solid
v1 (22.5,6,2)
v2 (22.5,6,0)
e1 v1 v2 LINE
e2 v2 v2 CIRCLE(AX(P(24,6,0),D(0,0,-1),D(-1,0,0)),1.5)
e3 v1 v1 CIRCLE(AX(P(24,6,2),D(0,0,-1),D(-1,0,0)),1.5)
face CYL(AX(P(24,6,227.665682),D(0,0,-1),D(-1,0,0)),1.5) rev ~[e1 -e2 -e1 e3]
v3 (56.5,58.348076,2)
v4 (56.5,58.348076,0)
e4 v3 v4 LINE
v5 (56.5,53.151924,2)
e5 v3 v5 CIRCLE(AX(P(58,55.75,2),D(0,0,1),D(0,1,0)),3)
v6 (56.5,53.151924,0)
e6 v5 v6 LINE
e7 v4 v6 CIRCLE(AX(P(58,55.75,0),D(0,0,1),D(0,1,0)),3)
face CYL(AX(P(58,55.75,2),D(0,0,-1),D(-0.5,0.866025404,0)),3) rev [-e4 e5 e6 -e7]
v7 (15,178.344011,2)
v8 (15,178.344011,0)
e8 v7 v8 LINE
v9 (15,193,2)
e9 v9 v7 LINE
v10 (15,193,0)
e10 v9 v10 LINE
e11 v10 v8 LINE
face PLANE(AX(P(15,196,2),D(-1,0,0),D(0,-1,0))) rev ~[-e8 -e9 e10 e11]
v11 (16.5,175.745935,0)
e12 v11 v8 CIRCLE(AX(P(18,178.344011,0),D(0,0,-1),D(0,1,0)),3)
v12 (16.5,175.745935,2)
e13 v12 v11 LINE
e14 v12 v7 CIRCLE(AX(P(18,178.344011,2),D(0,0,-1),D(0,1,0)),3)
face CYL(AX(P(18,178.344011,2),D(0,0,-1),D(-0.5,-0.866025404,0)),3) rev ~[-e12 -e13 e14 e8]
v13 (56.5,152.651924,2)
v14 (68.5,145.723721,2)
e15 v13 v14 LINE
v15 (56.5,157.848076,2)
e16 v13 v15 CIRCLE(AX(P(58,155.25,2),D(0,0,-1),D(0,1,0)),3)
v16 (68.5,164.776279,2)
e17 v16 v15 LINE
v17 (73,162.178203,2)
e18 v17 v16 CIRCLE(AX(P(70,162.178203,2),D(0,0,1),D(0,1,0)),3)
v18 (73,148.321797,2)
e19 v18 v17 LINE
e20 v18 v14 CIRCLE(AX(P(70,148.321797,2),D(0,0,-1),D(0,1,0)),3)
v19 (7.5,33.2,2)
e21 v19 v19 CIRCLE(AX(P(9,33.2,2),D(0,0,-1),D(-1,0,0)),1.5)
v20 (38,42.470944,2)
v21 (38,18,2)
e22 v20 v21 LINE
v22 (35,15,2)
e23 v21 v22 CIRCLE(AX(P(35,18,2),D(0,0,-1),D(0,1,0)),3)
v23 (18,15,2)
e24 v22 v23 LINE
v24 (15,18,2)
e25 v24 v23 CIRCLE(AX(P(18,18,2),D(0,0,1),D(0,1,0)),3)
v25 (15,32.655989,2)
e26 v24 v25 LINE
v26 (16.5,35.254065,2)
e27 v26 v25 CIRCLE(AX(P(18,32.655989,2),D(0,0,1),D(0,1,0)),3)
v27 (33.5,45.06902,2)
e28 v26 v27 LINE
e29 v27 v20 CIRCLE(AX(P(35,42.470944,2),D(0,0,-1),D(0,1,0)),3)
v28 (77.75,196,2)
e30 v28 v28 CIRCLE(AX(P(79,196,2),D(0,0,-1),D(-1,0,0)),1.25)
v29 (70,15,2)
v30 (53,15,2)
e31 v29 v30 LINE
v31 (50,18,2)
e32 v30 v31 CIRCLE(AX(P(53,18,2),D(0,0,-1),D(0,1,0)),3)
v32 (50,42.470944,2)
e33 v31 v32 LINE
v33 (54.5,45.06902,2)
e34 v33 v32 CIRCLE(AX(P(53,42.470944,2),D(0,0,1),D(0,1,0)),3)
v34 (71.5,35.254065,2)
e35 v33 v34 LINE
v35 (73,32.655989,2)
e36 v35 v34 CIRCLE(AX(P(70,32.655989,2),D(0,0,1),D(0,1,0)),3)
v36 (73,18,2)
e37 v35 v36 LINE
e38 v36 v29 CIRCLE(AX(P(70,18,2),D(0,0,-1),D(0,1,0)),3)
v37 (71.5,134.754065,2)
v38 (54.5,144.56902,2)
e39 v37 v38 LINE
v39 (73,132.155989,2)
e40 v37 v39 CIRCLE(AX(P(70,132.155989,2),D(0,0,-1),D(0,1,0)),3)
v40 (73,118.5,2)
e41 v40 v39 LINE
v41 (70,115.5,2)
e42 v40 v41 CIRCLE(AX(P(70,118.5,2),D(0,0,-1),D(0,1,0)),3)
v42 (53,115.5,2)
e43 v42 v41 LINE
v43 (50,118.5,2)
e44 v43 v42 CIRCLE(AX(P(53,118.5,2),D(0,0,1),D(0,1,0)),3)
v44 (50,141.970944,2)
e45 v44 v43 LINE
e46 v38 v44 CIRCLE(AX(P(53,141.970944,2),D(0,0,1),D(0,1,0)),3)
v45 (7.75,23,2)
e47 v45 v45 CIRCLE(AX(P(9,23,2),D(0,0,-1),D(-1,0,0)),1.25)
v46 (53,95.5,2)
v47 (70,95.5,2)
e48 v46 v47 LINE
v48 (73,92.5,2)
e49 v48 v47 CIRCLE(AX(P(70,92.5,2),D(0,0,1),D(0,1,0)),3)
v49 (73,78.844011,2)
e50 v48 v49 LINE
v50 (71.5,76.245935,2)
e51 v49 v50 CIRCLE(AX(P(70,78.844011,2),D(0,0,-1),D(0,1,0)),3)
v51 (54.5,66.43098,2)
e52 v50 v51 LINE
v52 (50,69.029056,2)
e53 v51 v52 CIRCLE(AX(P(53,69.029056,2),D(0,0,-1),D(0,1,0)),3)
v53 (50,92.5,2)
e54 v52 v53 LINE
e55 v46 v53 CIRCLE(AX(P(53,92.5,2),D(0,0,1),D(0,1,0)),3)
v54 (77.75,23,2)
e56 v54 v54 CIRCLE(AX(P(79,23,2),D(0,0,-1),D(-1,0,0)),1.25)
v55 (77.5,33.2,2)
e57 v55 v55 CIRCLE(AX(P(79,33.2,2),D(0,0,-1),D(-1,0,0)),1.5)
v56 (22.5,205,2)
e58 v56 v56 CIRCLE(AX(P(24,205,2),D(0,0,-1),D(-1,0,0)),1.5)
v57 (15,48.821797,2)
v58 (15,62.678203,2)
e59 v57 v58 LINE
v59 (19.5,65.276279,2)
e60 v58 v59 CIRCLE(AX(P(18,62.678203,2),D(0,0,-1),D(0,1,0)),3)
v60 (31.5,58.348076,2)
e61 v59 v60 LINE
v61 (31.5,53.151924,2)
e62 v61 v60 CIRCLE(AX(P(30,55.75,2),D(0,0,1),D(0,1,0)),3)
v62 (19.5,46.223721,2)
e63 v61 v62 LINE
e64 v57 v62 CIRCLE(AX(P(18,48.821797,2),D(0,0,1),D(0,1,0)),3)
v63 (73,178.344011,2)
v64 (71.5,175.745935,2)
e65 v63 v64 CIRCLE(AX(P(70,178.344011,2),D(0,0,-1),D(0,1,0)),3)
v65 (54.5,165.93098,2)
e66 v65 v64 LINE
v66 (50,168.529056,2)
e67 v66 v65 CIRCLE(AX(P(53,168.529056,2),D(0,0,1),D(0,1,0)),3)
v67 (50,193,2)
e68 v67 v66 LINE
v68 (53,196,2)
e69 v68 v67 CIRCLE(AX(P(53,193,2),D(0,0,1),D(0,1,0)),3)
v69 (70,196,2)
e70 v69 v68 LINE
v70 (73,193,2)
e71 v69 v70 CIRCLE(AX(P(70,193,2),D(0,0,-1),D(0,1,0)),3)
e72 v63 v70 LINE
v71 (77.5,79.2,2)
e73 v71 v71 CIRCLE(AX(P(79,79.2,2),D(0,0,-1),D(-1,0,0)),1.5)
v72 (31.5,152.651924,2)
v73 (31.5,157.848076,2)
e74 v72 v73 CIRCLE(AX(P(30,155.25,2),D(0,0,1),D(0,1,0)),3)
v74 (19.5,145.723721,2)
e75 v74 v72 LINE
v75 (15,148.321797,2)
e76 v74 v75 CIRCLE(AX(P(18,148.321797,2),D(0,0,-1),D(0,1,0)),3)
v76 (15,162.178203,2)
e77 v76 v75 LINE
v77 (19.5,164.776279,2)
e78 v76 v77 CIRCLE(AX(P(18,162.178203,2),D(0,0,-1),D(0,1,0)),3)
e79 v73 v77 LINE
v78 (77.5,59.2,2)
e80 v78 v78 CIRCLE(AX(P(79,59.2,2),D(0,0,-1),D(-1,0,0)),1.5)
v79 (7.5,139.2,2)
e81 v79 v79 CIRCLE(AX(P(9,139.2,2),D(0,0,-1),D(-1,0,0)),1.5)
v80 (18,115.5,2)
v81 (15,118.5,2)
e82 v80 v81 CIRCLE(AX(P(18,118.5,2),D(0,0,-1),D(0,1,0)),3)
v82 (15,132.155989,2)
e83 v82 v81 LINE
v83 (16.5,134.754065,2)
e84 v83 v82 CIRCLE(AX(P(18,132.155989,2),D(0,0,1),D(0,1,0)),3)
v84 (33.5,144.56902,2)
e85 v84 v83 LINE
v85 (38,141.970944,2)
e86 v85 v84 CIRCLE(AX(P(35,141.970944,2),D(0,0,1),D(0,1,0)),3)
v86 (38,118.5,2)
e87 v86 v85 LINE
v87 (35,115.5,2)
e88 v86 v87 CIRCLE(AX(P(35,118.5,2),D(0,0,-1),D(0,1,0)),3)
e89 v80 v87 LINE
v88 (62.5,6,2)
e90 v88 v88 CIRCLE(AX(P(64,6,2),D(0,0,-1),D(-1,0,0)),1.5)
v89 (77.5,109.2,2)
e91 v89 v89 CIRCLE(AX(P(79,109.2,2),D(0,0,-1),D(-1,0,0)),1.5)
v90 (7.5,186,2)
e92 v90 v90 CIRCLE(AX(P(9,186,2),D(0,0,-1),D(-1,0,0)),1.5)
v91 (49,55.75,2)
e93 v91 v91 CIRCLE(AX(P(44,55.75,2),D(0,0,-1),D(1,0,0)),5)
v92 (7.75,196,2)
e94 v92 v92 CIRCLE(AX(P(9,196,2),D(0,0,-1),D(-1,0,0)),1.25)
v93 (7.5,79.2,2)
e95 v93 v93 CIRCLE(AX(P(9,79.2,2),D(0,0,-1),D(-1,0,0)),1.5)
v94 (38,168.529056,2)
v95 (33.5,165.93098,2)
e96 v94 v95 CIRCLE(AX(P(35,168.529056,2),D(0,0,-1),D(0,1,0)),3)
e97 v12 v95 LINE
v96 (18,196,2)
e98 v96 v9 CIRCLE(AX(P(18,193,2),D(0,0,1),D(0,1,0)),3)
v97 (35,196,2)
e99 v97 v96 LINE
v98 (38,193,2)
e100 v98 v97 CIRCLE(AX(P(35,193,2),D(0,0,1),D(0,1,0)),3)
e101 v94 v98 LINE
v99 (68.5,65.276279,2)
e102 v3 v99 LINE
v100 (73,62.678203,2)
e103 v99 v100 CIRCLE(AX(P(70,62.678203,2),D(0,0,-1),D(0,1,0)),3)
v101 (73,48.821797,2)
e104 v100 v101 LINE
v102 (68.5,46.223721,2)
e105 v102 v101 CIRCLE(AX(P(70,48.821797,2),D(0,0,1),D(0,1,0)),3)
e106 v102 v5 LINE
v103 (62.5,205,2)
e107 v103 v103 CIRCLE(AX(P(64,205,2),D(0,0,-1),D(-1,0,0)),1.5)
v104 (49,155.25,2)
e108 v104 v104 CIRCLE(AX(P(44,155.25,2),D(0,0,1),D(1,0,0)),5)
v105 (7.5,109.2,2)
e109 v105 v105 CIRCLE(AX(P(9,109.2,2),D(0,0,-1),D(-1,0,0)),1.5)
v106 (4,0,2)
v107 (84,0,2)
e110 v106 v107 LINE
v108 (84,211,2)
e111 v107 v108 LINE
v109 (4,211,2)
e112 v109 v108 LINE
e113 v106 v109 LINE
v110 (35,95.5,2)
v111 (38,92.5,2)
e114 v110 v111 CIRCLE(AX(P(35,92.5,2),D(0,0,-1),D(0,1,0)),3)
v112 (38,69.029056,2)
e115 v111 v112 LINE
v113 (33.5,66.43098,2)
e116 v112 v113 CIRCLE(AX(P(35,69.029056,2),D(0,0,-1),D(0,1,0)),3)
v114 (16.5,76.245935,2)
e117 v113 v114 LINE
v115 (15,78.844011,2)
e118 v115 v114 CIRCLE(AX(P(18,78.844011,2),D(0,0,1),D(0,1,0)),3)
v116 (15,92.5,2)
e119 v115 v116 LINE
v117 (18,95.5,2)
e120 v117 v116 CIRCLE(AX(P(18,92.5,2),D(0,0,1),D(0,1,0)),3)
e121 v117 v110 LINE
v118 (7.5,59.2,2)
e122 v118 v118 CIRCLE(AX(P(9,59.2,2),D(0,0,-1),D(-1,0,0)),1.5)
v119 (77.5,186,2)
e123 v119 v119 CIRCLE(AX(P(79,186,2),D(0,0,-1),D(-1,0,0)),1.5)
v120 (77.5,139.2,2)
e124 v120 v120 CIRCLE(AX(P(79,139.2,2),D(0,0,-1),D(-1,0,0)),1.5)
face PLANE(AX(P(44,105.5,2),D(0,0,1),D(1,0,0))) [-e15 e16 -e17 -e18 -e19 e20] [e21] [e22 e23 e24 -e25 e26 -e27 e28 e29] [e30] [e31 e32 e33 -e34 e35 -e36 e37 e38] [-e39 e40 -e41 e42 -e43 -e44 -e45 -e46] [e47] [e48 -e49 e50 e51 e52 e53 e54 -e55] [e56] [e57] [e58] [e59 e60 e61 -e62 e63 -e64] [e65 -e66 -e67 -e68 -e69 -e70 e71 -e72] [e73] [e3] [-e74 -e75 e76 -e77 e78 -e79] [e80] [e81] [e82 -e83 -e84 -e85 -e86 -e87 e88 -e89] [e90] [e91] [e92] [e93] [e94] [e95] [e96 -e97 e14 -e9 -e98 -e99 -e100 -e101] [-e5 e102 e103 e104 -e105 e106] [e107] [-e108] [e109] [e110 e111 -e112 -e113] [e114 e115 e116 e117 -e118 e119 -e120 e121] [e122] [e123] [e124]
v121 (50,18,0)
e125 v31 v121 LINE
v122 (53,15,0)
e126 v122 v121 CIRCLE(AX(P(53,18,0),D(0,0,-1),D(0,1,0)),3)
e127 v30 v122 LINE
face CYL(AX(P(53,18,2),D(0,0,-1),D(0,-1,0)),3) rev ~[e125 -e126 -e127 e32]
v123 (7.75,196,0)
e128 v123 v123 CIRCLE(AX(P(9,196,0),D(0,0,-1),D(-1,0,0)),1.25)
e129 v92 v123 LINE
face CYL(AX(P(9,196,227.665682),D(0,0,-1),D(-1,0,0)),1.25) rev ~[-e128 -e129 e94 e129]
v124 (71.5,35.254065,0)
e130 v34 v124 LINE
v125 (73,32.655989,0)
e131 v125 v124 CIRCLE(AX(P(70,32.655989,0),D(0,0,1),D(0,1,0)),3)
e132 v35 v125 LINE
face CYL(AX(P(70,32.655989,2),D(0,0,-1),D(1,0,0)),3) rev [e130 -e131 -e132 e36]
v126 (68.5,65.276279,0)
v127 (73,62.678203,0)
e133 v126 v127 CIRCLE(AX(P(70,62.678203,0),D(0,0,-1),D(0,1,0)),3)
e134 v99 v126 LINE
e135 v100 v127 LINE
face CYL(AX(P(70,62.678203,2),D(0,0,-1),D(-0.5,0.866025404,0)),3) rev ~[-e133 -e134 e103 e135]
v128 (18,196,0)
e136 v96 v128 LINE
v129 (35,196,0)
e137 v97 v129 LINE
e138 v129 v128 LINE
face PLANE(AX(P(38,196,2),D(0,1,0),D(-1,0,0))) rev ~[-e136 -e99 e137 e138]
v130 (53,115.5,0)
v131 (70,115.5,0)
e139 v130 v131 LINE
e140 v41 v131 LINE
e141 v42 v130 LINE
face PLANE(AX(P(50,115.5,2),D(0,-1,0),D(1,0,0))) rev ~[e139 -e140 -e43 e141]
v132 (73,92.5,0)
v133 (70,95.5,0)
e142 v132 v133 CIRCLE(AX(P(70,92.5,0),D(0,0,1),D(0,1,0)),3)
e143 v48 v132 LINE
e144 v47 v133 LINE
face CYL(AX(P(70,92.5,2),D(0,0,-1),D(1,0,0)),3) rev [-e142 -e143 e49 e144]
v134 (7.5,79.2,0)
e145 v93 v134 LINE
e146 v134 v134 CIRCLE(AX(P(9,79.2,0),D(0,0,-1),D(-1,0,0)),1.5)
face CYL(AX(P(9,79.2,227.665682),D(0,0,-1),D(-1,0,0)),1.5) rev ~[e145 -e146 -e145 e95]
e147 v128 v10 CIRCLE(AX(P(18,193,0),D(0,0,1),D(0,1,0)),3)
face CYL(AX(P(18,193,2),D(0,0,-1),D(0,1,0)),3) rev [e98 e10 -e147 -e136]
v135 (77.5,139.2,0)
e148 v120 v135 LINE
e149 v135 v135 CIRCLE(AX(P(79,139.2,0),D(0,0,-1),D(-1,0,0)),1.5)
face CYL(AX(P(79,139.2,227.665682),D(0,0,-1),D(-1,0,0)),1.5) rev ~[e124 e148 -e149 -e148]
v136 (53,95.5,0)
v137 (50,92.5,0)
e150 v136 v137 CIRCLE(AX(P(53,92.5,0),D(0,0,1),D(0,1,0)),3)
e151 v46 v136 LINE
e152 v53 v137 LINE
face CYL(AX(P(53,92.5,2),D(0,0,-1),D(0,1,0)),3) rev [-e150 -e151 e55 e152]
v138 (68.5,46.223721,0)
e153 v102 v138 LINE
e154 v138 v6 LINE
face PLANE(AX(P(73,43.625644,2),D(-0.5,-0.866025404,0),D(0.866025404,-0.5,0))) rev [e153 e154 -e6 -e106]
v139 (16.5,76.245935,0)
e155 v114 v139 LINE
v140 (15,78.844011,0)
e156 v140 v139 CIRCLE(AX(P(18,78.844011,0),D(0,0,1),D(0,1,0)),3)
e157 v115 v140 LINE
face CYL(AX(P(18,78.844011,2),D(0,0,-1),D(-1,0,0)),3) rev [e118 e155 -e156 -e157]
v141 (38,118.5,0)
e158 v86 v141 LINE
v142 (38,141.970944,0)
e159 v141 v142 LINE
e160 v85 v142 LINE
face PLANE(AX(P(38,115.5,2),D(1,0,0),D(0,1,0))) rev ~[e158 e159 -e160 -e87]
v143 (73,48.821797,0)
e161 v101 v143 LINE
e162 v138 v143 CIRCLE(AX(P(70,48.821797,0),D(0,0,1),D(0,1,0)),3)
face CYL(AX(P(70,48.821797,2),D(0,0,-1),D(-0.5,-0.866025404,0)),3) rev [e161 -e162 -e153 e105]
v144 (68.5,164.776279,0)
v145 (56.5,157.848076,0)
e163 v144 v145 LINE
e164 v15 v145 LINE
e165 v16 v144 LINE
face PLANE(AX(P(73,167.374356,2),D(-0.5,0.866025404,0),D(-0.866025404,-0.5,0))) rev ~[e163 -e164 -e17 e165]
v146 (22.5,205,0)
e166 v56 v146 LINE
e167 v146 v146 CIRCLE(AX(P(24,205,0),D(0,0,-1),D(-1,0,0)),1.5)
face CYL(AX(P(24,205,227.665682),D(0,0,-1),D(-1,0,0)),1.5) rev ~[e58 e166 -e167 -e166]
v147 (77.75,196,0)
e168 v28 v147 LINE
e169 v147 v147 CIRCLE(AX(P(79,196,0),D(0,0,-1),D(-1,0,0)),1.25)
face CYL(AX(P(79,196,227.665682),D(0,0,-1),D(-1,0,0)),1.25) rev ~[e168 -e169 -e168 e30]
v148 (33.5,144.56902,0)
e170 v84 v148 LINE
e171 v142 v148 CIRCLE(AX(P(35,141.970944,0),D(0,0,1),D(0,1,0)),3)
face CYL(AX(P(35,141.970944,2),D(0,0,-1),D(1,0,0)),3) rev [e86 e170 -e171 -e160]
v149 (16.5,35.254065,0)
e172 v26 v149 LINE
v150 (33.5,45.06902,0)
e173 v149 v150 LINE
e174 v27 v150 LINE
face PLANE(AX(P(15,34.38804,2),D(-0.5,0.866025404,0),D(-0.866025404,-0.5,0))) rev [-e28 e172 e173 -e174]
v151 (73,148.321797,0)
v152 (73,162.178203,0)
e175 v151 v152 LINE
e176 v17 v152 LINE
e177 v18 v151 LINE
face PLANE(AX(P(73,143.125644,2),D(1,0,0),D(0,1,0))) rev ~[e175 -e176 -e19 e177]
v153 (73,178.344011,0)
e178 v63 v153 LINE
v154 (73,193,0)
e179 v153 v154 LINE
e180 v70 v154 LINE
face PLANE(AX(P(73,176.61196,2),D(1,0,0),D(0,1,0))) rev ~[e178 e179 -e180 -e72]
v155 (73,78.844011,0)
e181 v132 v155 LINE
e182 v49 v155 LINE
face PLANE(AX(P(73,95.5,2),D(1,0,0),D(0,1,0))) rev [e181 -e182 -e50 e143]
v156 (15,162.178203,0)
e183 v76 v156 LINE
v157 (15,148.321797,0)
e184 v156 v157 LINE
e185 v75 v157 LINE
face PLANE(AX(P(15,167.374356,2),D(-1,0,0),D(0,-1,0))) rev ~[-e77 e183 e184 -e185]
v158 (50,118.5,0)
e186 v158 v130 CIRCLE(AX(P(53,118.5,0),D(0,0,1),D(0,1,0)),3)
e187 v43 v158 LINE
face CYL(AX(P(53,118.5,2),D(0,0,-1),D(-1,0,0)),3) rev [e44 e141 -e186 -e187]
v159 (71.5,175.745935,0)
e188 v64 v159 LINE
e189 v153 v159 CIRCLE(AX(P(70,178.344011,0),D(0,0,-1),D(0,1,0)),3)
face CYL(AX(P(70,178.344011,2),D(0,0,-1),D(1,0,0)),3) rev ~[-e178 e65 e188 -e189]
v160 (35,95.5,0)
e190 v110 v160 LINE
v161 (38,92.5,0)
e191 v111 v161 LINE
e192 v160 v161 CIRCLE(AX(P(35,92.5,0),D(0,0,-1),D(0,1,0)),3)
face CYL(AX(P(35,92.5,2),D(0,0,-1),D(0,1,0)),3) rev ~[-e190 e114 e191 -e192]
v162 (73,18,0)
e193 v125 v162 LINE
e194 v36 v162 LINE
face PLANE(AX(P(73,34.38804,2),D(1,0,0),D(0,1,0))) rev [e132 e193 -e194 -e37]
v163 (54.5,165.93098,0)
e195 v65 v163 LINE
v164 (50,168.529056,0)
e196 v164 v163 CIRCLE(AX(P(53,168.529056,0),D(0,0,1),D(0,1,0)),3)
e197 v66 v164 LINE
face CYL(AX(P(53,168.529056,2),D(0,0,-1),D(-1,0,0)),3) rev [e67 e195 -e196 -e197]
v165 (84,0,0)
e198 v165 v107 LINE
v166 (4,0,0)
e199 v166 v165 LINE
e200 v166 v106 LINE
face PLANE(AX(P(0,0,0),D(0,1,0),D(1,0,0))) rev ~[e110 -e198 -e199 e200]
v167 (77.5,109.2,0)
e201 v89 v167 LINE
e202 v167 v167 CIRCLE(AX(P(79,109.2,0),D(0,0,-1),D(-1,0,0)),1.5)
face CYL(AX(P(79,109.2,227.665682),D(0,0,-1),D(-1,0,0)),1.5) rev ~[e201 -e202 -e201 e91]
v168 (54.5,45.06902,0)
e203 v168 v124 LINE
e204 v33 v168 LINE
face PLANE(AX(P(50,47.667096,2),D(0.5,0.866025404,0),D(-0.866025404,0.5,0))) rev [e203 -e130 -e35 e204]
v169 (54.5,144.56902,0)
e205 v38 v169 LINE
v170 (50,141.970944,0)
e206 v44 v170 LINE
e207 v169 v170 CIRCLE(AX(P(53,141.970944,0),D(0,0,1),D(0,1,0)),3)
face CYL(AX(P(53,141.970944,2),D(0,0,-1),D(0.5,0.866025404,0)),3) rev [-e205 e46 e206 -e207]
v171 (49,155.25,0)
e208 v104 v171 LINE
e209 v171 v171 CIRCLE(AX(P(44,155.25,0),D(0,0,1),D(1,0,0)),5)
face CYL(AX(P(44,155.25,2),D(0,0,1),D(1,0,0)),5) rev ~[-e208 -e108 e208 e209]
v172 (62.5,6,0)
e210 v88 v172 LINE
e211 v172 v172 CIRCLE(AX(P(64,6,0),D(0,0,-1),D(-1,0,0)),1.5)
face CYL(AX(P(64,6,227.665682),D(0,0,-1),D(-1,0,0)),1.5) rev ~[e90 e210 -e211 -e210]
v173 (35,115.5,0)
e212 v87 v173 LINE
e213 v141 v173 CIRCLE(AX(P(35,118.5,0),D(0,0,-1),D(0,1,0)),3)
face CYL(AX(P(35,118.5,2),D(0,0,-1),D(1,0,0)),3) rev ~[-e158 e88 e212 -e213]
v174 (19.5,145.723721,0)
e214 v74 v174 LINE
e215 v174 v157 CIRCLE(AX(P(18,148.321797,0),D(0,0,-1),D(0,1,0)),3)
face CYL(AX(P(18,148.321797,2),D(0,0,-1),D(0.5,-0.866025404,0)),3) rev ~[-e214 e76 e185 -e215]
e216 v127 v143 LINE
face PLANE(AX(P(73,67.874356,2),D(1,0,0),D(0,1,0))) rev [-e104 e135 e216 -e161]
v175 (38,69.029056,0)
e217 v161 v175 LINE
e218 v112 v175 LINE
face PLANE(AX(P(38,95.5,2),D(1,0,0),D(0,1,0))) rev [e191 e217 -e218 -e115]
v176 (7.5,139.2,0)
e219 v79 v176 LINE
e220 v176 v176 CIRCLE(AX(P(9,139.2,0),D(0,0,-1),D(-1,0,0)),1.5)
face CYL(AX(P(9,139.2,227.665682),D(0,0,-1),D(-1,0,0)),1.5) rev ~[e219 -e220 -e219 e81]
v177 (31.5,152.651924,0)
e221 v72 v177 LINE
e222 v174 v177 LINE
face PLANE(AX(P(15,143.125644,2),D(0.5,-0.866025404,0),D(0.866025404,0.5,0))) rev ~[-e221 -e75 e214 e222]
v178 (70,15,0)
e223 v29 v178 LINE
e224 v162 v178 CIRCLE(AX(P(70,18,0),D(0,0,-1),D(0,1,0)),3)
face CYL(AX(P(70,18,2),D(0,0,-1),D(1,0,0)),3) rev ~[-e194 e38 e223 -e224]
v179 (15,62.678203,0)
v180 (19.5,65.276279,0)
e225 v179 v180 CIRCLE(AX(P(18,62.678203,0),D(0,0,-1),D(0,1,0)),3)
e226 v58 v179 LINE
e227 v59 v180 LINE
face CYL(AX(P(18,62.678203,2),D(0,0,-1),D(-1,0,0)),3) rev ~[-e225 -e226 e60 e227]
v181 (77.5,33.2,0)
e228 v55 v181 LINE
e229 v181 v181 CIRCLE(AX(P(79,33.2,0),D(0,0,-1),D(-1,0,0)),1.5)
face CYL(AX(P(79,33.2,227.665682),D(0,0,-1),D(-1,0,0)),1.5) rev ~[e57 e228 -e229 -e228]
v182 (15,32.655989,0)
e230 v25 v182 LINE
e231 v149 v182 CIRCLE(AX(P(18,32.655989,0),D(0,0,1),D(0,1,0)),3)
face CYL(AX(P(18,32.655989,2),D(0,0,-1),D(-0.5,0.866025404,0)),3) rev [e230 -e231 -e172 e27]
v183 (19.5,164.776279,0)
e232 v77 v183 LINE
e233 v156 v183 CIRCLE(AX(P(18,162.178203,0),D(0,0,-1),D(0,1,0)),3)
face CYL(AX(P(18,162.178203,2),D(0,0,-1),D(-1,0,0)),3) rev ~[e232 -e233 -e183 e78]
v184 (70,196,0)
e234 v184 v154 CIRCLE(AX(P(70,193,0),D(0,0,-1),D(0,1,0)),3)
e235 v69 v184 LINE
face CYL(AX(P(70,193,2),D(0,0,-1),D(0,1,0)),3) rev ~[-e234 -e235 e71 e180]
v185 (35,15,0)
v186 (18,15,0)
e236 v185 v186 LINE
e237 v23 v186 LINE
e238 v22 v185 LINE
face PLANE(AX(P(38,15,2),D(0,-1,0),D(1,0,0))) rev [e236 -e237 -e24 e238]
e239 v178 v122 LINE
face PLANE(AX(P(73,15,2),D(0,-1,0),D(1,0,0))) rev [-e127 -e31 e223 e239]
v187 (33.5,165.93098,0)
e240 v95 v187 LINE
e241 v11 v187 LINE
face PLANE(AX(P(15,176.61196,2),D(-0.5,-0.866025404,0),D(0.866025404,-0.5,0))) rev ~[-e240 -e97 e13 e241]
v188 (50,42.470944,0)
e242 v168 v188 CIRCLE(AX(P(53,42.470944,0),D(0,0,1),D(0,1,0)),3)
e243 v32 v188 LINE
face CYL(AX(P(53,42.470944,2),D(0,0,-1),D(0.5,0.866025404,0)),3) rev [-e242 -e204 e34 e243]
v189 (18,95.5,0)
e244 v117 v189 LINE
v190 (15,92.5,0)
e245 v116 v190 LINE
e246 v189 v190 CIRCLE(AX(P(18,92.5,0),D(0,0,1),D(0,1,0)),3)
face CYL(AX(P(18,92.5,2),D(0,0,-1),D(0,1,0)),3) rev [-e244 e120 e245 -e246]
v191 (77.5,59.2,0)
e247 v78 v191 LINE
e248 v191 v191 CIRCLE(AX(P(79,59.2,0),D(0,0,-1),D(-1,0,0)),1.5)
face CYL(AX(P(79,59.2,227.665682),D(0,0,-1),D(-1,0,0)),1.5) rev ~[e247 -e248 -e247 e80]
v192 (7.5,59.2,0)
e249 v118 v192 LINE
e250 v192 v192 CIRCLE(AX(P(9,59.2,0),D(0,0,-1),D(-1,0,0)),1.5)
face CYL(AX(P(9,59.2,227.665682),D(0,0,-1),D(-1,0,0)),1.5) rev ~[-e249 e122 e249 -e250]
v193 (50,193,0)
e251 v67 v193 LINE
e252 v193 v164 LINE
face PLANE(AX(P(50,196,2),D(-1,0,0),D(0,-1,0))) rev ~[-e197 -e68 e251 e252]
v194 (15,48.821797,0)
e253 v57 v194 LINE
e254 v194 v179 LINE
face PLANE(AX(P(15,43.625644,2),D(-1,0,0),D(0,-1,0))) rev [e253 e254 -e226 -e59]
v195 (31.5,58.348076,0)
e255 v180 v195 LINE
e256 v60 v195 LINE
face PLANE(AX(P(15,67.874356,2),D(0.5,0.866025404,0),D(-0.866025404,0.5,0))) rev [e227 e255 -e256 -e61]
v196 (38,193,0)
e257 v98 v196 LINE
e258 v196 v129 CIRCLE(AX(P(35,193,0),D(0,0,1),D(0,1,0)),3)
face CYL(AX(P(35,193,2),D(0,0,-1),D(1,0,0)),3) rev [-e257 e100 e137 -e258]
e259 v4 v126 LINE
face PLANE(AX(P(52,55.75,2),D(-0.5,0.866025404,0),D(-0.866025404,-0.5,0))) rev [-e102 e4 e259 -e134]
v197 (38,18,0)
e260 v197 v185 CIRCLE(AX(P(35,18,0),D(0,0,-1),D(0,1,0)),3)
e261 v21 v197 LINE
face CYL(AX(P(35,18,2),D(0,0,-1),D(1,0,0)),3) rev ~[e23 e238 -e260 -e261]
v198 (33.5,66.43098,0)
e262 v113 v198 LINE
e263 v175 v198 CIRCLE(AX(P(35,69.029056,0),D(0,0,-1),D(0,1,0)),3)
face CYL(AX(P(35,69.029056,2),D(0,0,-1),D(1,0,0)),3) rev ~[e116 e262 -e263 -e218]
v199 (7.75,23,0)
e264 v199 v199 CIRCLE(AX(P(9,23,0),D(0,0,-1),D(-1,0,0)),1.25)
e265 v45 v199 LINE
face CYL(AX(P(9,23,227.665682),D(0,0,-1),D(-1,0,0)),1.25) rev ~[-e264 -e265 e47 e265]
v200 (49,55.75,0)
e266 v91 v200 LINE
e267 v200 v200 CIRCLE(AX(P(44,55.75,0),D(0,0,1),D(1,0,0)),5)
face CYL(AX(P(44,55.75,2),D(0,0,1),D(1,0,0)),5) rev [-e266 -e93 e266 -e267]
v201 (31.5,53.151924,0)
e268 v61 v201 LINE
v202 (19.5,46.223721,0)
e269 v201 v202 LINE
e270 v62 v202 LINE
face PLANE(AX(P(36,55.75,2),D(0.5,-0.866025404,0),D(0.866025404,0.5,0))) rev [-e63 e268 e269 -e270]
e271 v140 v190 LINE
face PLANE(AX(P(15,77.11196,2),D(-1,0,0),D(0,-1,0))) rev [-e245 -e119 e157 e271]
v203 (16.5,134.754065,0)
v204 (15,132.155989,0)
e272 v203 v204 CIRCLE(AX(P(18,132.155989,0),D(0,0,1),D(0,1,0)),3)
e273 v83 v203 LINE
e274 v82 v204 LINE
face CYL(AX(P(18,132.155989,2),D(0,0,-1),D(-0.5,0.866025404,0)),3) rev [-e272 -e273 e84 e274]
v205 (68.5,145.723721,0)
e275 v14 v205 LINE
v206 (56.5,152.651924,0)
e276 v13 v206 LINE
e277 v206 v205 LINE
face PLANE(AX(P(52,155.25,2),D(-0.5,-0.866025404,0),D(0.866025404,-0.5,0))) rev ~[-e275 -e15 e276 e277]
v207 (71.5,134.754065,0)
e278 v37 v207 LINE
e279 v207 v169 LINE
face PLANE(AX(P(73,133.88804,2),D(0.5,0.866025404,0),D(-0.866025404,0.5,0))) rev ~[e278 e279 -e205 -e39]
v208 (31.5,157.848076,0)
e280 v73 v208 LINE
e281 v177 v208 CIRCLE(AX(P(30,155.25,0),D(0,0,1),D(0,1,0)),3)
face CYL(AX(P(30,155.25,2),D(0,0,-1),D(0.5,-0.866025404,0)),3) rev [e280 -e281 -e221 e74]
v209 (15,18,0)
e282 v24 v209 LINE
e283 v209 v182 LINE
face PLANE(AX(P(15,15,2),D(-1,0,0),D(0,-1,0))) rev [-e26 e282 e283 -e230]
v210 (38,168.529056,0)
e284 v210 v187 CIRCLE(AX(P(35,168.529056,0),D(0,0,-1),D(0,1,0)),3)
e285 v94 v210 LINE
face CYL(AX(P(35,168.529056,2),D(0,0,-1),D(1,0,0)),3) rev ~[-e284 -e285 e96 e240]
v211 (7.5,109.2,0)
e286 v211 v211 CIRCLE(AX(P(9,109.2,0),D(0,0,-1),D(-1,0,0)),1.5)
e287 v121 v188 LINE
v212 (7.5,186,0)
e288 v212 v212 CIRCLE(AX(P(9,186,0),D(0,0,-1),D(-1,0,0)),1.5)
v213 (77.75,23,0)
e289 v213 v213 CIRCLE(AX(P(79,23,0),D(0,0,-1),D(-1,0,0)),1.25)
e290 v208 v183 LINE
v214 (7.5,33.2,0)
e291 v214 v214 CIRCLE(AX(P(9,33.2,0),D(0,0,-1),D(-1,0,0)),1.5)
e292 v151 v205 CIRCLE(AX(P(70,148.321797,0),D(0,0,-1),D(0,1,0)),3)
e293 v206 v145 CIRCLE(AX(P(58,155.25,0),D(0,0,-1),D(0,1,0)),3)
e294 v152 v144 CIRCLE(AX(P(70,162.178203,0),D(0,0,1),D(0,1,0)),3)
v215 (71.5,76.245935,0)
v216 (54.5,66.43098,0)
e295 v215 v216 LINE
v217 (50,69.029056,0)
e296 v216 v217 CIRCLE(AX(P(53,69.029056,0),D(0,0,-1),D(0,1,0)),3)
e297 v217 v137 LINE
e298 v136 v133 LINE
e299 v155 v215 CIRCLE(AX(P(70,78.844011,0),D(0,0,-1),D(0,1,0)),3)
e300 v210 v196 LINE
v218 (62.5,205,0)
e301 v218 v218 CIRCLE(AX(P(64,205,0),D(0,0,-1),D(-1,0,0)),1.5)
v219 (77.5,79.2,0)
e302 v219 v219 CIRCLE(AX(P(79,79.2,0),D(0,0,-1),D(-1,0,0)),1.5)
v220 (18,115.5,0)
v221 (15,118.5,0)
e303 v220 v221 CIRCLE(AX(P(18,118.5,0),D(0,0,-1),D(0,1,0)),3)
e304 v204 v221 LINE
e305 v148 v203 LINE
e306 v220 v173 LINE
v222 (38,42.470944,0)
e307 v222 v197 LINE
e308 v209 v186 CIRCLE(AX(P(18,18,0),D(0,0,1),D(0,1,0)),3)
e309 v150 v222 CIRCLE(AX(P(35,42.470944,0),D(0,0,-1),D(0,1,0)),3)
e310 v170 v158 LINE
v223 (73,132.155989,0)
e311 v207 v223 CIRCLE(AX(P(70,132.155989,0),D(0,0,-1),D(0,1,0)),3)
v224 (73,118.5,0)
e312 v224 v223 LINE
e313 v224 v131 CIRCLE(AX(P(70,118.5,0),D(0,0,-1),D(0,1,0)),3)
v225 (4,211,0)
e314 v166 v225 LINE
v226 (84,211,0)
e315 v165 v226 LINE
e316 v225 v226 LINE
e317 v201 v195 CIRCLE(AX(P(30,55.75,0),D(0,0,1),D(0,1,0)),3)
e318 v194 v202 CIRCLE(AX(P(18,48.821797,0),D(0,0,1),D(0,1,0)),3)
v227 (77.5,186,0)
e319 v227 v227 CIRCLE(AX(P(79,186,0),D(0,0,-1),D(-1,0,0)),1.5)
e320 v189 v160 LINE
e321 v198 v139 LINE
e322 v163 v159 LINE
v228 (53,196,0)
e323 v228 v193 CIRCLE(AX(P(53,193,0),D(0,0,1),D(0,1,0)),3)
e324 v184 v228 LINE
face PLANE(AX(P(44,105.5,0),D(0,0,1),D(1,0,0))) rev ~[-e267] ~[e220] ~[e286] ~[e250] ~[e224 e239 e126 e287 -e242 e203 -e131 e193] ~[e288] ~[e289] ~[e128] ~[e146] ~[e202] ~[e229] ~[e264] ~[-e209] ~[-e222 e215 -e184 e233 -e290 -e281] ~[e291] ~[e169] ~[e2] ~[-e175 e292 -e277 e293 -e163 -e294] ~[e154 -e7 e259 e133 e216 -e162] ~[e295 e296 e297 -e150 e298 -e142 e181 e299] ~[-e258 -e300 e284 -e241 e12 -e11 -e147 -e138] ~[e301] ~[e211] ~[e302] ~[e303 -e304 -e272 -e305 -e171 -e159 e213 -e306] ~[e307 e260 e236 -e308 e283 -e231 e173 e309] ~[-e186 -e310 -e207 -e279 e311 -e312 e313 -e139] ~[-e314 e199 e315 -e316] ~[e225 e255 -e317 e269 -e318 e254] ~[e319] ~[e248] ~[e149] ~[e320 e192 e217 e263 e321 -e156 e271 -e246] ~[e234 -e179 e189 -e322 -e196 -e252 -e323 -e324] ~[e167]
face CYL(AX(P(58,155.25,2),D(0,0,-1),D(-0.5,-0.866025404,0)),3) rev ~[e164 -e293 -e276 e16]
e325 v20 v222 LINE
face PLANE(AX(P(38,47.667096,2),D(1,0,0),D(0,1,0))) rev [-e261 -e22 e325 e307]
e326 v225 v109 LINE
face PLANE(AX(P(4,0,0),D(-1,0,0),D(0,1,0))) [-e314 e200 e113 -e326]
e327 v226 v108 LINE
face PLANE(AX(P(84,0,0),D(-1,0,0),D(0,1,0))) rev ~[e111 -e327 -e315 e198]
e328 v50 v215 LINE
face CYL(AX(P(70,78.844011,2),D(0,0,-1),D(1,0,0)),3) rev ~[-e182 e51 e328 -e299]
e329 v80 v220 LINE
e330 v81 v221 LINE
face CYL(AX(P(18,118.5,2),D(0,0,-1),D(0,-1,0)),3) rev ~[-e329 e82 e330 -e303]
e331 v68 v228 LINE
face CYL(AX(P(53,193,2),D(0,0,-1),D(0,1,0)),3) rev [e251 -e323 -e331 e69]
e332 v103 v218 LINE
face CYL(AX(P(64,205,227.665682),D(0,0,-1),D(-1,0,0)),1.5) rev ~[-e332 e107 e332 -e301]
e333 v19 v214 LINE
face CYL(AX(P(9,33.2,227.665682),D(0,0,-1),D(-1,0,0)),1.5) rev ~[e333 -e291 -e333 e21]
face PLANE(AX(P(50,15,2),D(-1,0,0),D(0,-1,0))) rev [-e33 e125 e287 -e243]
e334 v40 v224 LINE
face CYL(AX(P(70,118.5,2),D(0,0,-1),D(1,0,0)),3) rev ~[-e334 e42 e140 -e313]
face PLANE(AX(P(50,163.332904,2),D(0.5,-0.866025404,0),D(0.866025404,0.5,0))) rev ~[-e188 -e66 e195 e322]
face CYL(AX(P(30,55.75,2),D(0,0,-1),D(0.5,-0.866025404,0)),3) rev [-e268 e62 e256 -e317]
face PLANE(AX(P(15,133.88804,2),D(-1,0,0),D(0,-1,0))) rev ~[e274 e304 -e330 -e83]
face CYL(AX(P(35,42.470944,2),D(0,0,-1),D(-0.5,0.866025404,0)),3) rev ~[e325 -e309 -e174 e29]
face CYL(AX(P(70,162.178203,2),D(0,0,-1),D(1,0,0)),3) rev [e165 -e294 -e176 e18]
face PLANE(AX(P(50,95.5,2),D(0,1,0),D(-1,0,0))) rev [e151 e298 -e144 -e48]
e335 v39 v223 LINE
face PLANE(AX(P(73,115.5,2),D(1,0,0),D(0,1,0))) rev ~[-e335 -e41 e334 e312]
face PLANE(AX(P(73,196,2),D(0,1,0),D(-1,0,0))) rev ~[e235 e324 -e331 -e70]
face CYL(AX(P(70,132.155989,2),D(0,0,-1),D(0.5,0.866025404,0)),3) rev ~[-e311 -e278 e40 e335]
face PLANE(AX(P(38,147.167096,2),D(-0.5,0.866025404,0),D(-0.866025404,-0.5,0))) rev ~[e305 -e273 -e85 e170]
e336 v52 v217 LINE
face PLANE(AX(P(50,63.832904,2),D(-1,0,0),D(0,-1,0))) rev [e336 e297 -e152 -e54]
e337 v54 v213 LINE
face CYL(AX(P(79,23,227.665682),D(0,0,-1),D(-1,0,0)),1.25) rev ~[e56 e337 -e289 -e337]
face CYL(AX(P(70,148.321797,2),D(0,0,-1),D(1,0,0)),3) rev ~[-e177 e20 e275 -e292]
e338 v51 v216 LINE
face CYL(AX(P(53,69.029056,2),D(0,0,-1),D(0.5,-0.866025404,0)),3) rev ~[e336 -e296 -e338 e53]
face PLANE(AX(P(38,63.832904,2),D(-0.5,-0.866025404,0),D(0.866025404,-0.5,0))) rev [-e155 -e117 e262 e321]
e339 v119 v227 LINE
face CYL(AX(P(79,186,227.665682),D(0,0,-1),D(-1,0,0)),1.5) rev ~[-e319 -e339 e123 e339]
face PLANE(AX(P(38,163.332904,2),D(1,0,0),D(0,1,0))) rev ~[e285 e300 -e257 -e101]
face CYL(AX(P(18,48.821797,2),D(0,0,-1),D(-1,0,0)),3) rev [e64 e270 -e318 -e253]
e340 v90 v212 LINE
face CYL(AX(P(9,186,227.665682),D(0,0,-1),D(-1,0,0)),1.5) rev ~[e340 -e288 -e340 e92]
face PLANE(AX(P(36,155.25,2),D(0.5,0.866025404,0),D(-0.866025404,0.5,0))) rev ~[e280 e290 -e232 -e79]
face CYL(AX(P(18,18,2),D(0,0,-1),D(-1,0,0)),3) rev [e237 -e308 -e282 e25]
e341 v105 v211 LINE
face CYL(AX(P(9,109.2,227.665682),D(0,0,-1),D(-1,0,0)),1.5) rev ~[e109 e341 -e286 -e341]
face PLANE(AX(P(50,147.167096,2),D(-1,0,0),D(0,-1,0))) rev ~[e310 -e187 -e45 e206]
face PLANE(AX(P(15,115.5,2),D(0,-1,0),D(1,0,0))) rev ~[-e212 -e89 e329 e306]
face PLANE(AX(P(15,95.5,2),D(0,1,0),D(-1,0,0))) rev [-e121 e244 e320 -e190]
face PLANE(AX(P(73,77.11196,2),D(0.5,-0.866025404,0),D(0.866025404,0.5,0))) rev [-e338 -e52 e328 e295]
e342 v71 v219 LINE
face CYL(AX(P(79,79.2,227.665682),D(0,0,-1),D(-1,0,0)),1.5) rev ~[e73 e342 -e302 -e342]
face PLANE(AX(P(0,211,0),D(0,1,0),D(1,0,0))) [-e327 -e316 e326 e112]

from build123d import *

# Parameters (mm, degrees)
SKETCH1_W                   = 88
SKETCH1_H                   = 211
BOSS_EXTRUDE1_DEPTH         = 2
CUT_EXTRUDE2_DEPTH          = 2
SKETCH4_R                   = 5
CUT_EXTRUDE3_DEPTH          = 3
FILLET2_R                   = 3
SKETCH23_W                  = 2
SKETCH23_H                  = 211
SKETCH23_W_2                = 2.150374681
CUT_EXTRUDE5_DEPTH          = 10
SKETCH29_W                  = 5.911493913
SKETCH29_H                  = 211
SKETCH29_W_2                = 4.036537762
CUT_EXTRUDE10_DEPTH         = 2
F_3_0MM_DOWEL_HOLE1_D       = 3
TAP_DRILL_FOR_M3X0_5_TAP1_D = 2.5


with BuildPart() as part:
    # Sketch1 → Boss-Extrude1 (new body)
    with BuildSketch(Plane.XY):
        with Locations((44, 105.5)):
            Rectangle(SKETCH1_W, SKETCH1_H)
    extrude(amount=BOSS_EXTRUDE1_DEPTH)

    # Sketch3 → Cut-Extrude2 (cut)
    with BuildSketch(Plane.XY.offset(2)):
        Polygon((73, 133.88804004), (50, 147.167096231), (50, 115.5), (73, 115.5), align=None)
        Polygon((38, 115.5), (38, 147.167096231), (15, 133.88804004), (15, 115.5), align=None)
        Polygon((15, 143.125644347), (36, 155.25), (15, 167.374355653), align=None)
        Polygon((73, 143.125644347), (73, 167.374355653), (52, 155.25), align=None)
        Polygon((73, 196), (50, 196), (50, 163.332903769), (73, 176.61195996), align=None)
        Polygon((38, 163.332903769), (38, 196), (15, 196), (15, 176.61195996), align=None)
    cut_extrude2 = extrude(amount=-CUT_EXTRUDE2_DEPTH, mode=Mode.SUBTRACT)

    # Sketch4 → Cut-Extrude3 (cut, through all)
    with BuildSketch(Plane.XY.offset(2)):
        with Locations((44, 155.25)):
            Circle(SKETCH4_R)
    cut_extrude3 = extrude(amount=-CUT_EXTRUDE3_DEPTH, mode=Mode.SUBTRACT)

    # Mirror2: Cut-Extrude2, Cut-Extrude3 across plane
    add(cut_extrude2.mirror(Plane.ZX.offset(105.5)), mode=Mode.SUBTRACT)
    add(cut_extrude3.mirror(Plane.ZX.offset(105.5)), mode=Mode.SUBTRACT)

    # Fillet2
    fillet2_edges = [part.edges().sort_by_distance(p)[0] for p in [
        (36, 55.75, 1),
        (15, 43.625644347, 1),
        (15, 67.874355653, 1),
        (38, 95.5, 1),
        (38, 63.832903769, 1),
        (15, 77.11195996, 1),
        (15, 95.5, 1),
        (73, 15, 1),
        (50, 15, 1),
        (50, 47.667096231, 1),
        (73, 34.38804004, 1),
        (73, 43.625644347, 1),
        (52, 55.75, 1),
        (73, 67.874355653, 1),
        (15, 15, 1),
        (15, 34.38804004, 1),
        (38, 47.667096231, 1),
        (38, 15, 1),
        (73, 77.11195996, 1),
        (50, 63.832903769, 1),
        (50, 95.5, 1),
        (73, 95.5, 1),
        (15, 167.374355653, 1),
        (36, 155.25, 1),
        (15, 143.125644347, 1),
        (38, 147.167096231, 1),
        (38, 115.5, 1),
        (15, 115.5, 1),
        (15, 133.88804004, 1),
        (50, 196, 1),
        (73, 196, 1),
        (73, 176.61195996, 1),
        (50, 163.332903769, 1),
        (52, 155.25, 1),
        (73, 167.374355653, 1),
        (73, 143.125644347, 1),
        (15, 176.61195996, 1),
        (15, 196, 1),
        (38, 196, 1),
        (38, 163.332903769, 1),
        (50, 147.167096231, 1),
        (73, 133.88804004, 1),
        (73, 115.5, 1),
        (50, 115.5, 1),
    ]]
    fillet(fillet2_edges, radius=FILLET2_R)

    # Sketch23 → Cut-Extrude5 (cut)
    with BuildSketch(Plane.XY.offset(2)):
        with Locations((87, 105.5)):
            Rectangle(SKETCH23_W, SKETCH23_H)
        with Locations((1.075187341, 105.5)):
            Rectangle(SKETCH23_W_2, SKETCH23_H)
    extrude(amount=-CUT_EXTRUDE5_DEPTH, mode=Mode.SUBTRACT)

    # Sketch29 → Cut-Extrude10 (cut)
    with BuildSketch(Plane(origin=(0, 0, 0), x_dir=(-1, 0, 0), z_dir=(0, 0, -1))):
        with Locations((-1.044253043, 105.5)):
            Rectangle(SKETCH29_W, SKETCH29_H)
        with Locations((-86.018268881, 105.5)):
            Rectangle(SKETCH29_W_2, SKETCH29_H)
    extrude(amount=-CUT_EXTRUDE10_DEPTH, mode=Mode.SUBTRACT)

    # Ø3.0mm Dowel Hole1 (through all)
    with Locations(Plane.XY.offset(2)):
        with Locations((24, 205), (64, 205), (9, 186), (79, 186), (9, 139.2), (79, 139.2), (79, 109.2), (9, 109.2), (9, 79.2), (79, 79.2), (79, 59.2), (9, 59.2), (9, 33.2), (79, 33.2), (64, 6), (24, 6)):
            Hole(F_3_0MM_DOWEL_HOLE1_D / 2)

    # Tap Drill for M3x0.5 Tap1 (through all)
    with Locations(Plane.XY.offset(2)):
        with Locations((9, 23), (79, 23), (9, 196), (79, 196)):
            Hole(TAP_DRILL_FOR_M3X0_5_TAP1_D / 2)


solid = part.part
